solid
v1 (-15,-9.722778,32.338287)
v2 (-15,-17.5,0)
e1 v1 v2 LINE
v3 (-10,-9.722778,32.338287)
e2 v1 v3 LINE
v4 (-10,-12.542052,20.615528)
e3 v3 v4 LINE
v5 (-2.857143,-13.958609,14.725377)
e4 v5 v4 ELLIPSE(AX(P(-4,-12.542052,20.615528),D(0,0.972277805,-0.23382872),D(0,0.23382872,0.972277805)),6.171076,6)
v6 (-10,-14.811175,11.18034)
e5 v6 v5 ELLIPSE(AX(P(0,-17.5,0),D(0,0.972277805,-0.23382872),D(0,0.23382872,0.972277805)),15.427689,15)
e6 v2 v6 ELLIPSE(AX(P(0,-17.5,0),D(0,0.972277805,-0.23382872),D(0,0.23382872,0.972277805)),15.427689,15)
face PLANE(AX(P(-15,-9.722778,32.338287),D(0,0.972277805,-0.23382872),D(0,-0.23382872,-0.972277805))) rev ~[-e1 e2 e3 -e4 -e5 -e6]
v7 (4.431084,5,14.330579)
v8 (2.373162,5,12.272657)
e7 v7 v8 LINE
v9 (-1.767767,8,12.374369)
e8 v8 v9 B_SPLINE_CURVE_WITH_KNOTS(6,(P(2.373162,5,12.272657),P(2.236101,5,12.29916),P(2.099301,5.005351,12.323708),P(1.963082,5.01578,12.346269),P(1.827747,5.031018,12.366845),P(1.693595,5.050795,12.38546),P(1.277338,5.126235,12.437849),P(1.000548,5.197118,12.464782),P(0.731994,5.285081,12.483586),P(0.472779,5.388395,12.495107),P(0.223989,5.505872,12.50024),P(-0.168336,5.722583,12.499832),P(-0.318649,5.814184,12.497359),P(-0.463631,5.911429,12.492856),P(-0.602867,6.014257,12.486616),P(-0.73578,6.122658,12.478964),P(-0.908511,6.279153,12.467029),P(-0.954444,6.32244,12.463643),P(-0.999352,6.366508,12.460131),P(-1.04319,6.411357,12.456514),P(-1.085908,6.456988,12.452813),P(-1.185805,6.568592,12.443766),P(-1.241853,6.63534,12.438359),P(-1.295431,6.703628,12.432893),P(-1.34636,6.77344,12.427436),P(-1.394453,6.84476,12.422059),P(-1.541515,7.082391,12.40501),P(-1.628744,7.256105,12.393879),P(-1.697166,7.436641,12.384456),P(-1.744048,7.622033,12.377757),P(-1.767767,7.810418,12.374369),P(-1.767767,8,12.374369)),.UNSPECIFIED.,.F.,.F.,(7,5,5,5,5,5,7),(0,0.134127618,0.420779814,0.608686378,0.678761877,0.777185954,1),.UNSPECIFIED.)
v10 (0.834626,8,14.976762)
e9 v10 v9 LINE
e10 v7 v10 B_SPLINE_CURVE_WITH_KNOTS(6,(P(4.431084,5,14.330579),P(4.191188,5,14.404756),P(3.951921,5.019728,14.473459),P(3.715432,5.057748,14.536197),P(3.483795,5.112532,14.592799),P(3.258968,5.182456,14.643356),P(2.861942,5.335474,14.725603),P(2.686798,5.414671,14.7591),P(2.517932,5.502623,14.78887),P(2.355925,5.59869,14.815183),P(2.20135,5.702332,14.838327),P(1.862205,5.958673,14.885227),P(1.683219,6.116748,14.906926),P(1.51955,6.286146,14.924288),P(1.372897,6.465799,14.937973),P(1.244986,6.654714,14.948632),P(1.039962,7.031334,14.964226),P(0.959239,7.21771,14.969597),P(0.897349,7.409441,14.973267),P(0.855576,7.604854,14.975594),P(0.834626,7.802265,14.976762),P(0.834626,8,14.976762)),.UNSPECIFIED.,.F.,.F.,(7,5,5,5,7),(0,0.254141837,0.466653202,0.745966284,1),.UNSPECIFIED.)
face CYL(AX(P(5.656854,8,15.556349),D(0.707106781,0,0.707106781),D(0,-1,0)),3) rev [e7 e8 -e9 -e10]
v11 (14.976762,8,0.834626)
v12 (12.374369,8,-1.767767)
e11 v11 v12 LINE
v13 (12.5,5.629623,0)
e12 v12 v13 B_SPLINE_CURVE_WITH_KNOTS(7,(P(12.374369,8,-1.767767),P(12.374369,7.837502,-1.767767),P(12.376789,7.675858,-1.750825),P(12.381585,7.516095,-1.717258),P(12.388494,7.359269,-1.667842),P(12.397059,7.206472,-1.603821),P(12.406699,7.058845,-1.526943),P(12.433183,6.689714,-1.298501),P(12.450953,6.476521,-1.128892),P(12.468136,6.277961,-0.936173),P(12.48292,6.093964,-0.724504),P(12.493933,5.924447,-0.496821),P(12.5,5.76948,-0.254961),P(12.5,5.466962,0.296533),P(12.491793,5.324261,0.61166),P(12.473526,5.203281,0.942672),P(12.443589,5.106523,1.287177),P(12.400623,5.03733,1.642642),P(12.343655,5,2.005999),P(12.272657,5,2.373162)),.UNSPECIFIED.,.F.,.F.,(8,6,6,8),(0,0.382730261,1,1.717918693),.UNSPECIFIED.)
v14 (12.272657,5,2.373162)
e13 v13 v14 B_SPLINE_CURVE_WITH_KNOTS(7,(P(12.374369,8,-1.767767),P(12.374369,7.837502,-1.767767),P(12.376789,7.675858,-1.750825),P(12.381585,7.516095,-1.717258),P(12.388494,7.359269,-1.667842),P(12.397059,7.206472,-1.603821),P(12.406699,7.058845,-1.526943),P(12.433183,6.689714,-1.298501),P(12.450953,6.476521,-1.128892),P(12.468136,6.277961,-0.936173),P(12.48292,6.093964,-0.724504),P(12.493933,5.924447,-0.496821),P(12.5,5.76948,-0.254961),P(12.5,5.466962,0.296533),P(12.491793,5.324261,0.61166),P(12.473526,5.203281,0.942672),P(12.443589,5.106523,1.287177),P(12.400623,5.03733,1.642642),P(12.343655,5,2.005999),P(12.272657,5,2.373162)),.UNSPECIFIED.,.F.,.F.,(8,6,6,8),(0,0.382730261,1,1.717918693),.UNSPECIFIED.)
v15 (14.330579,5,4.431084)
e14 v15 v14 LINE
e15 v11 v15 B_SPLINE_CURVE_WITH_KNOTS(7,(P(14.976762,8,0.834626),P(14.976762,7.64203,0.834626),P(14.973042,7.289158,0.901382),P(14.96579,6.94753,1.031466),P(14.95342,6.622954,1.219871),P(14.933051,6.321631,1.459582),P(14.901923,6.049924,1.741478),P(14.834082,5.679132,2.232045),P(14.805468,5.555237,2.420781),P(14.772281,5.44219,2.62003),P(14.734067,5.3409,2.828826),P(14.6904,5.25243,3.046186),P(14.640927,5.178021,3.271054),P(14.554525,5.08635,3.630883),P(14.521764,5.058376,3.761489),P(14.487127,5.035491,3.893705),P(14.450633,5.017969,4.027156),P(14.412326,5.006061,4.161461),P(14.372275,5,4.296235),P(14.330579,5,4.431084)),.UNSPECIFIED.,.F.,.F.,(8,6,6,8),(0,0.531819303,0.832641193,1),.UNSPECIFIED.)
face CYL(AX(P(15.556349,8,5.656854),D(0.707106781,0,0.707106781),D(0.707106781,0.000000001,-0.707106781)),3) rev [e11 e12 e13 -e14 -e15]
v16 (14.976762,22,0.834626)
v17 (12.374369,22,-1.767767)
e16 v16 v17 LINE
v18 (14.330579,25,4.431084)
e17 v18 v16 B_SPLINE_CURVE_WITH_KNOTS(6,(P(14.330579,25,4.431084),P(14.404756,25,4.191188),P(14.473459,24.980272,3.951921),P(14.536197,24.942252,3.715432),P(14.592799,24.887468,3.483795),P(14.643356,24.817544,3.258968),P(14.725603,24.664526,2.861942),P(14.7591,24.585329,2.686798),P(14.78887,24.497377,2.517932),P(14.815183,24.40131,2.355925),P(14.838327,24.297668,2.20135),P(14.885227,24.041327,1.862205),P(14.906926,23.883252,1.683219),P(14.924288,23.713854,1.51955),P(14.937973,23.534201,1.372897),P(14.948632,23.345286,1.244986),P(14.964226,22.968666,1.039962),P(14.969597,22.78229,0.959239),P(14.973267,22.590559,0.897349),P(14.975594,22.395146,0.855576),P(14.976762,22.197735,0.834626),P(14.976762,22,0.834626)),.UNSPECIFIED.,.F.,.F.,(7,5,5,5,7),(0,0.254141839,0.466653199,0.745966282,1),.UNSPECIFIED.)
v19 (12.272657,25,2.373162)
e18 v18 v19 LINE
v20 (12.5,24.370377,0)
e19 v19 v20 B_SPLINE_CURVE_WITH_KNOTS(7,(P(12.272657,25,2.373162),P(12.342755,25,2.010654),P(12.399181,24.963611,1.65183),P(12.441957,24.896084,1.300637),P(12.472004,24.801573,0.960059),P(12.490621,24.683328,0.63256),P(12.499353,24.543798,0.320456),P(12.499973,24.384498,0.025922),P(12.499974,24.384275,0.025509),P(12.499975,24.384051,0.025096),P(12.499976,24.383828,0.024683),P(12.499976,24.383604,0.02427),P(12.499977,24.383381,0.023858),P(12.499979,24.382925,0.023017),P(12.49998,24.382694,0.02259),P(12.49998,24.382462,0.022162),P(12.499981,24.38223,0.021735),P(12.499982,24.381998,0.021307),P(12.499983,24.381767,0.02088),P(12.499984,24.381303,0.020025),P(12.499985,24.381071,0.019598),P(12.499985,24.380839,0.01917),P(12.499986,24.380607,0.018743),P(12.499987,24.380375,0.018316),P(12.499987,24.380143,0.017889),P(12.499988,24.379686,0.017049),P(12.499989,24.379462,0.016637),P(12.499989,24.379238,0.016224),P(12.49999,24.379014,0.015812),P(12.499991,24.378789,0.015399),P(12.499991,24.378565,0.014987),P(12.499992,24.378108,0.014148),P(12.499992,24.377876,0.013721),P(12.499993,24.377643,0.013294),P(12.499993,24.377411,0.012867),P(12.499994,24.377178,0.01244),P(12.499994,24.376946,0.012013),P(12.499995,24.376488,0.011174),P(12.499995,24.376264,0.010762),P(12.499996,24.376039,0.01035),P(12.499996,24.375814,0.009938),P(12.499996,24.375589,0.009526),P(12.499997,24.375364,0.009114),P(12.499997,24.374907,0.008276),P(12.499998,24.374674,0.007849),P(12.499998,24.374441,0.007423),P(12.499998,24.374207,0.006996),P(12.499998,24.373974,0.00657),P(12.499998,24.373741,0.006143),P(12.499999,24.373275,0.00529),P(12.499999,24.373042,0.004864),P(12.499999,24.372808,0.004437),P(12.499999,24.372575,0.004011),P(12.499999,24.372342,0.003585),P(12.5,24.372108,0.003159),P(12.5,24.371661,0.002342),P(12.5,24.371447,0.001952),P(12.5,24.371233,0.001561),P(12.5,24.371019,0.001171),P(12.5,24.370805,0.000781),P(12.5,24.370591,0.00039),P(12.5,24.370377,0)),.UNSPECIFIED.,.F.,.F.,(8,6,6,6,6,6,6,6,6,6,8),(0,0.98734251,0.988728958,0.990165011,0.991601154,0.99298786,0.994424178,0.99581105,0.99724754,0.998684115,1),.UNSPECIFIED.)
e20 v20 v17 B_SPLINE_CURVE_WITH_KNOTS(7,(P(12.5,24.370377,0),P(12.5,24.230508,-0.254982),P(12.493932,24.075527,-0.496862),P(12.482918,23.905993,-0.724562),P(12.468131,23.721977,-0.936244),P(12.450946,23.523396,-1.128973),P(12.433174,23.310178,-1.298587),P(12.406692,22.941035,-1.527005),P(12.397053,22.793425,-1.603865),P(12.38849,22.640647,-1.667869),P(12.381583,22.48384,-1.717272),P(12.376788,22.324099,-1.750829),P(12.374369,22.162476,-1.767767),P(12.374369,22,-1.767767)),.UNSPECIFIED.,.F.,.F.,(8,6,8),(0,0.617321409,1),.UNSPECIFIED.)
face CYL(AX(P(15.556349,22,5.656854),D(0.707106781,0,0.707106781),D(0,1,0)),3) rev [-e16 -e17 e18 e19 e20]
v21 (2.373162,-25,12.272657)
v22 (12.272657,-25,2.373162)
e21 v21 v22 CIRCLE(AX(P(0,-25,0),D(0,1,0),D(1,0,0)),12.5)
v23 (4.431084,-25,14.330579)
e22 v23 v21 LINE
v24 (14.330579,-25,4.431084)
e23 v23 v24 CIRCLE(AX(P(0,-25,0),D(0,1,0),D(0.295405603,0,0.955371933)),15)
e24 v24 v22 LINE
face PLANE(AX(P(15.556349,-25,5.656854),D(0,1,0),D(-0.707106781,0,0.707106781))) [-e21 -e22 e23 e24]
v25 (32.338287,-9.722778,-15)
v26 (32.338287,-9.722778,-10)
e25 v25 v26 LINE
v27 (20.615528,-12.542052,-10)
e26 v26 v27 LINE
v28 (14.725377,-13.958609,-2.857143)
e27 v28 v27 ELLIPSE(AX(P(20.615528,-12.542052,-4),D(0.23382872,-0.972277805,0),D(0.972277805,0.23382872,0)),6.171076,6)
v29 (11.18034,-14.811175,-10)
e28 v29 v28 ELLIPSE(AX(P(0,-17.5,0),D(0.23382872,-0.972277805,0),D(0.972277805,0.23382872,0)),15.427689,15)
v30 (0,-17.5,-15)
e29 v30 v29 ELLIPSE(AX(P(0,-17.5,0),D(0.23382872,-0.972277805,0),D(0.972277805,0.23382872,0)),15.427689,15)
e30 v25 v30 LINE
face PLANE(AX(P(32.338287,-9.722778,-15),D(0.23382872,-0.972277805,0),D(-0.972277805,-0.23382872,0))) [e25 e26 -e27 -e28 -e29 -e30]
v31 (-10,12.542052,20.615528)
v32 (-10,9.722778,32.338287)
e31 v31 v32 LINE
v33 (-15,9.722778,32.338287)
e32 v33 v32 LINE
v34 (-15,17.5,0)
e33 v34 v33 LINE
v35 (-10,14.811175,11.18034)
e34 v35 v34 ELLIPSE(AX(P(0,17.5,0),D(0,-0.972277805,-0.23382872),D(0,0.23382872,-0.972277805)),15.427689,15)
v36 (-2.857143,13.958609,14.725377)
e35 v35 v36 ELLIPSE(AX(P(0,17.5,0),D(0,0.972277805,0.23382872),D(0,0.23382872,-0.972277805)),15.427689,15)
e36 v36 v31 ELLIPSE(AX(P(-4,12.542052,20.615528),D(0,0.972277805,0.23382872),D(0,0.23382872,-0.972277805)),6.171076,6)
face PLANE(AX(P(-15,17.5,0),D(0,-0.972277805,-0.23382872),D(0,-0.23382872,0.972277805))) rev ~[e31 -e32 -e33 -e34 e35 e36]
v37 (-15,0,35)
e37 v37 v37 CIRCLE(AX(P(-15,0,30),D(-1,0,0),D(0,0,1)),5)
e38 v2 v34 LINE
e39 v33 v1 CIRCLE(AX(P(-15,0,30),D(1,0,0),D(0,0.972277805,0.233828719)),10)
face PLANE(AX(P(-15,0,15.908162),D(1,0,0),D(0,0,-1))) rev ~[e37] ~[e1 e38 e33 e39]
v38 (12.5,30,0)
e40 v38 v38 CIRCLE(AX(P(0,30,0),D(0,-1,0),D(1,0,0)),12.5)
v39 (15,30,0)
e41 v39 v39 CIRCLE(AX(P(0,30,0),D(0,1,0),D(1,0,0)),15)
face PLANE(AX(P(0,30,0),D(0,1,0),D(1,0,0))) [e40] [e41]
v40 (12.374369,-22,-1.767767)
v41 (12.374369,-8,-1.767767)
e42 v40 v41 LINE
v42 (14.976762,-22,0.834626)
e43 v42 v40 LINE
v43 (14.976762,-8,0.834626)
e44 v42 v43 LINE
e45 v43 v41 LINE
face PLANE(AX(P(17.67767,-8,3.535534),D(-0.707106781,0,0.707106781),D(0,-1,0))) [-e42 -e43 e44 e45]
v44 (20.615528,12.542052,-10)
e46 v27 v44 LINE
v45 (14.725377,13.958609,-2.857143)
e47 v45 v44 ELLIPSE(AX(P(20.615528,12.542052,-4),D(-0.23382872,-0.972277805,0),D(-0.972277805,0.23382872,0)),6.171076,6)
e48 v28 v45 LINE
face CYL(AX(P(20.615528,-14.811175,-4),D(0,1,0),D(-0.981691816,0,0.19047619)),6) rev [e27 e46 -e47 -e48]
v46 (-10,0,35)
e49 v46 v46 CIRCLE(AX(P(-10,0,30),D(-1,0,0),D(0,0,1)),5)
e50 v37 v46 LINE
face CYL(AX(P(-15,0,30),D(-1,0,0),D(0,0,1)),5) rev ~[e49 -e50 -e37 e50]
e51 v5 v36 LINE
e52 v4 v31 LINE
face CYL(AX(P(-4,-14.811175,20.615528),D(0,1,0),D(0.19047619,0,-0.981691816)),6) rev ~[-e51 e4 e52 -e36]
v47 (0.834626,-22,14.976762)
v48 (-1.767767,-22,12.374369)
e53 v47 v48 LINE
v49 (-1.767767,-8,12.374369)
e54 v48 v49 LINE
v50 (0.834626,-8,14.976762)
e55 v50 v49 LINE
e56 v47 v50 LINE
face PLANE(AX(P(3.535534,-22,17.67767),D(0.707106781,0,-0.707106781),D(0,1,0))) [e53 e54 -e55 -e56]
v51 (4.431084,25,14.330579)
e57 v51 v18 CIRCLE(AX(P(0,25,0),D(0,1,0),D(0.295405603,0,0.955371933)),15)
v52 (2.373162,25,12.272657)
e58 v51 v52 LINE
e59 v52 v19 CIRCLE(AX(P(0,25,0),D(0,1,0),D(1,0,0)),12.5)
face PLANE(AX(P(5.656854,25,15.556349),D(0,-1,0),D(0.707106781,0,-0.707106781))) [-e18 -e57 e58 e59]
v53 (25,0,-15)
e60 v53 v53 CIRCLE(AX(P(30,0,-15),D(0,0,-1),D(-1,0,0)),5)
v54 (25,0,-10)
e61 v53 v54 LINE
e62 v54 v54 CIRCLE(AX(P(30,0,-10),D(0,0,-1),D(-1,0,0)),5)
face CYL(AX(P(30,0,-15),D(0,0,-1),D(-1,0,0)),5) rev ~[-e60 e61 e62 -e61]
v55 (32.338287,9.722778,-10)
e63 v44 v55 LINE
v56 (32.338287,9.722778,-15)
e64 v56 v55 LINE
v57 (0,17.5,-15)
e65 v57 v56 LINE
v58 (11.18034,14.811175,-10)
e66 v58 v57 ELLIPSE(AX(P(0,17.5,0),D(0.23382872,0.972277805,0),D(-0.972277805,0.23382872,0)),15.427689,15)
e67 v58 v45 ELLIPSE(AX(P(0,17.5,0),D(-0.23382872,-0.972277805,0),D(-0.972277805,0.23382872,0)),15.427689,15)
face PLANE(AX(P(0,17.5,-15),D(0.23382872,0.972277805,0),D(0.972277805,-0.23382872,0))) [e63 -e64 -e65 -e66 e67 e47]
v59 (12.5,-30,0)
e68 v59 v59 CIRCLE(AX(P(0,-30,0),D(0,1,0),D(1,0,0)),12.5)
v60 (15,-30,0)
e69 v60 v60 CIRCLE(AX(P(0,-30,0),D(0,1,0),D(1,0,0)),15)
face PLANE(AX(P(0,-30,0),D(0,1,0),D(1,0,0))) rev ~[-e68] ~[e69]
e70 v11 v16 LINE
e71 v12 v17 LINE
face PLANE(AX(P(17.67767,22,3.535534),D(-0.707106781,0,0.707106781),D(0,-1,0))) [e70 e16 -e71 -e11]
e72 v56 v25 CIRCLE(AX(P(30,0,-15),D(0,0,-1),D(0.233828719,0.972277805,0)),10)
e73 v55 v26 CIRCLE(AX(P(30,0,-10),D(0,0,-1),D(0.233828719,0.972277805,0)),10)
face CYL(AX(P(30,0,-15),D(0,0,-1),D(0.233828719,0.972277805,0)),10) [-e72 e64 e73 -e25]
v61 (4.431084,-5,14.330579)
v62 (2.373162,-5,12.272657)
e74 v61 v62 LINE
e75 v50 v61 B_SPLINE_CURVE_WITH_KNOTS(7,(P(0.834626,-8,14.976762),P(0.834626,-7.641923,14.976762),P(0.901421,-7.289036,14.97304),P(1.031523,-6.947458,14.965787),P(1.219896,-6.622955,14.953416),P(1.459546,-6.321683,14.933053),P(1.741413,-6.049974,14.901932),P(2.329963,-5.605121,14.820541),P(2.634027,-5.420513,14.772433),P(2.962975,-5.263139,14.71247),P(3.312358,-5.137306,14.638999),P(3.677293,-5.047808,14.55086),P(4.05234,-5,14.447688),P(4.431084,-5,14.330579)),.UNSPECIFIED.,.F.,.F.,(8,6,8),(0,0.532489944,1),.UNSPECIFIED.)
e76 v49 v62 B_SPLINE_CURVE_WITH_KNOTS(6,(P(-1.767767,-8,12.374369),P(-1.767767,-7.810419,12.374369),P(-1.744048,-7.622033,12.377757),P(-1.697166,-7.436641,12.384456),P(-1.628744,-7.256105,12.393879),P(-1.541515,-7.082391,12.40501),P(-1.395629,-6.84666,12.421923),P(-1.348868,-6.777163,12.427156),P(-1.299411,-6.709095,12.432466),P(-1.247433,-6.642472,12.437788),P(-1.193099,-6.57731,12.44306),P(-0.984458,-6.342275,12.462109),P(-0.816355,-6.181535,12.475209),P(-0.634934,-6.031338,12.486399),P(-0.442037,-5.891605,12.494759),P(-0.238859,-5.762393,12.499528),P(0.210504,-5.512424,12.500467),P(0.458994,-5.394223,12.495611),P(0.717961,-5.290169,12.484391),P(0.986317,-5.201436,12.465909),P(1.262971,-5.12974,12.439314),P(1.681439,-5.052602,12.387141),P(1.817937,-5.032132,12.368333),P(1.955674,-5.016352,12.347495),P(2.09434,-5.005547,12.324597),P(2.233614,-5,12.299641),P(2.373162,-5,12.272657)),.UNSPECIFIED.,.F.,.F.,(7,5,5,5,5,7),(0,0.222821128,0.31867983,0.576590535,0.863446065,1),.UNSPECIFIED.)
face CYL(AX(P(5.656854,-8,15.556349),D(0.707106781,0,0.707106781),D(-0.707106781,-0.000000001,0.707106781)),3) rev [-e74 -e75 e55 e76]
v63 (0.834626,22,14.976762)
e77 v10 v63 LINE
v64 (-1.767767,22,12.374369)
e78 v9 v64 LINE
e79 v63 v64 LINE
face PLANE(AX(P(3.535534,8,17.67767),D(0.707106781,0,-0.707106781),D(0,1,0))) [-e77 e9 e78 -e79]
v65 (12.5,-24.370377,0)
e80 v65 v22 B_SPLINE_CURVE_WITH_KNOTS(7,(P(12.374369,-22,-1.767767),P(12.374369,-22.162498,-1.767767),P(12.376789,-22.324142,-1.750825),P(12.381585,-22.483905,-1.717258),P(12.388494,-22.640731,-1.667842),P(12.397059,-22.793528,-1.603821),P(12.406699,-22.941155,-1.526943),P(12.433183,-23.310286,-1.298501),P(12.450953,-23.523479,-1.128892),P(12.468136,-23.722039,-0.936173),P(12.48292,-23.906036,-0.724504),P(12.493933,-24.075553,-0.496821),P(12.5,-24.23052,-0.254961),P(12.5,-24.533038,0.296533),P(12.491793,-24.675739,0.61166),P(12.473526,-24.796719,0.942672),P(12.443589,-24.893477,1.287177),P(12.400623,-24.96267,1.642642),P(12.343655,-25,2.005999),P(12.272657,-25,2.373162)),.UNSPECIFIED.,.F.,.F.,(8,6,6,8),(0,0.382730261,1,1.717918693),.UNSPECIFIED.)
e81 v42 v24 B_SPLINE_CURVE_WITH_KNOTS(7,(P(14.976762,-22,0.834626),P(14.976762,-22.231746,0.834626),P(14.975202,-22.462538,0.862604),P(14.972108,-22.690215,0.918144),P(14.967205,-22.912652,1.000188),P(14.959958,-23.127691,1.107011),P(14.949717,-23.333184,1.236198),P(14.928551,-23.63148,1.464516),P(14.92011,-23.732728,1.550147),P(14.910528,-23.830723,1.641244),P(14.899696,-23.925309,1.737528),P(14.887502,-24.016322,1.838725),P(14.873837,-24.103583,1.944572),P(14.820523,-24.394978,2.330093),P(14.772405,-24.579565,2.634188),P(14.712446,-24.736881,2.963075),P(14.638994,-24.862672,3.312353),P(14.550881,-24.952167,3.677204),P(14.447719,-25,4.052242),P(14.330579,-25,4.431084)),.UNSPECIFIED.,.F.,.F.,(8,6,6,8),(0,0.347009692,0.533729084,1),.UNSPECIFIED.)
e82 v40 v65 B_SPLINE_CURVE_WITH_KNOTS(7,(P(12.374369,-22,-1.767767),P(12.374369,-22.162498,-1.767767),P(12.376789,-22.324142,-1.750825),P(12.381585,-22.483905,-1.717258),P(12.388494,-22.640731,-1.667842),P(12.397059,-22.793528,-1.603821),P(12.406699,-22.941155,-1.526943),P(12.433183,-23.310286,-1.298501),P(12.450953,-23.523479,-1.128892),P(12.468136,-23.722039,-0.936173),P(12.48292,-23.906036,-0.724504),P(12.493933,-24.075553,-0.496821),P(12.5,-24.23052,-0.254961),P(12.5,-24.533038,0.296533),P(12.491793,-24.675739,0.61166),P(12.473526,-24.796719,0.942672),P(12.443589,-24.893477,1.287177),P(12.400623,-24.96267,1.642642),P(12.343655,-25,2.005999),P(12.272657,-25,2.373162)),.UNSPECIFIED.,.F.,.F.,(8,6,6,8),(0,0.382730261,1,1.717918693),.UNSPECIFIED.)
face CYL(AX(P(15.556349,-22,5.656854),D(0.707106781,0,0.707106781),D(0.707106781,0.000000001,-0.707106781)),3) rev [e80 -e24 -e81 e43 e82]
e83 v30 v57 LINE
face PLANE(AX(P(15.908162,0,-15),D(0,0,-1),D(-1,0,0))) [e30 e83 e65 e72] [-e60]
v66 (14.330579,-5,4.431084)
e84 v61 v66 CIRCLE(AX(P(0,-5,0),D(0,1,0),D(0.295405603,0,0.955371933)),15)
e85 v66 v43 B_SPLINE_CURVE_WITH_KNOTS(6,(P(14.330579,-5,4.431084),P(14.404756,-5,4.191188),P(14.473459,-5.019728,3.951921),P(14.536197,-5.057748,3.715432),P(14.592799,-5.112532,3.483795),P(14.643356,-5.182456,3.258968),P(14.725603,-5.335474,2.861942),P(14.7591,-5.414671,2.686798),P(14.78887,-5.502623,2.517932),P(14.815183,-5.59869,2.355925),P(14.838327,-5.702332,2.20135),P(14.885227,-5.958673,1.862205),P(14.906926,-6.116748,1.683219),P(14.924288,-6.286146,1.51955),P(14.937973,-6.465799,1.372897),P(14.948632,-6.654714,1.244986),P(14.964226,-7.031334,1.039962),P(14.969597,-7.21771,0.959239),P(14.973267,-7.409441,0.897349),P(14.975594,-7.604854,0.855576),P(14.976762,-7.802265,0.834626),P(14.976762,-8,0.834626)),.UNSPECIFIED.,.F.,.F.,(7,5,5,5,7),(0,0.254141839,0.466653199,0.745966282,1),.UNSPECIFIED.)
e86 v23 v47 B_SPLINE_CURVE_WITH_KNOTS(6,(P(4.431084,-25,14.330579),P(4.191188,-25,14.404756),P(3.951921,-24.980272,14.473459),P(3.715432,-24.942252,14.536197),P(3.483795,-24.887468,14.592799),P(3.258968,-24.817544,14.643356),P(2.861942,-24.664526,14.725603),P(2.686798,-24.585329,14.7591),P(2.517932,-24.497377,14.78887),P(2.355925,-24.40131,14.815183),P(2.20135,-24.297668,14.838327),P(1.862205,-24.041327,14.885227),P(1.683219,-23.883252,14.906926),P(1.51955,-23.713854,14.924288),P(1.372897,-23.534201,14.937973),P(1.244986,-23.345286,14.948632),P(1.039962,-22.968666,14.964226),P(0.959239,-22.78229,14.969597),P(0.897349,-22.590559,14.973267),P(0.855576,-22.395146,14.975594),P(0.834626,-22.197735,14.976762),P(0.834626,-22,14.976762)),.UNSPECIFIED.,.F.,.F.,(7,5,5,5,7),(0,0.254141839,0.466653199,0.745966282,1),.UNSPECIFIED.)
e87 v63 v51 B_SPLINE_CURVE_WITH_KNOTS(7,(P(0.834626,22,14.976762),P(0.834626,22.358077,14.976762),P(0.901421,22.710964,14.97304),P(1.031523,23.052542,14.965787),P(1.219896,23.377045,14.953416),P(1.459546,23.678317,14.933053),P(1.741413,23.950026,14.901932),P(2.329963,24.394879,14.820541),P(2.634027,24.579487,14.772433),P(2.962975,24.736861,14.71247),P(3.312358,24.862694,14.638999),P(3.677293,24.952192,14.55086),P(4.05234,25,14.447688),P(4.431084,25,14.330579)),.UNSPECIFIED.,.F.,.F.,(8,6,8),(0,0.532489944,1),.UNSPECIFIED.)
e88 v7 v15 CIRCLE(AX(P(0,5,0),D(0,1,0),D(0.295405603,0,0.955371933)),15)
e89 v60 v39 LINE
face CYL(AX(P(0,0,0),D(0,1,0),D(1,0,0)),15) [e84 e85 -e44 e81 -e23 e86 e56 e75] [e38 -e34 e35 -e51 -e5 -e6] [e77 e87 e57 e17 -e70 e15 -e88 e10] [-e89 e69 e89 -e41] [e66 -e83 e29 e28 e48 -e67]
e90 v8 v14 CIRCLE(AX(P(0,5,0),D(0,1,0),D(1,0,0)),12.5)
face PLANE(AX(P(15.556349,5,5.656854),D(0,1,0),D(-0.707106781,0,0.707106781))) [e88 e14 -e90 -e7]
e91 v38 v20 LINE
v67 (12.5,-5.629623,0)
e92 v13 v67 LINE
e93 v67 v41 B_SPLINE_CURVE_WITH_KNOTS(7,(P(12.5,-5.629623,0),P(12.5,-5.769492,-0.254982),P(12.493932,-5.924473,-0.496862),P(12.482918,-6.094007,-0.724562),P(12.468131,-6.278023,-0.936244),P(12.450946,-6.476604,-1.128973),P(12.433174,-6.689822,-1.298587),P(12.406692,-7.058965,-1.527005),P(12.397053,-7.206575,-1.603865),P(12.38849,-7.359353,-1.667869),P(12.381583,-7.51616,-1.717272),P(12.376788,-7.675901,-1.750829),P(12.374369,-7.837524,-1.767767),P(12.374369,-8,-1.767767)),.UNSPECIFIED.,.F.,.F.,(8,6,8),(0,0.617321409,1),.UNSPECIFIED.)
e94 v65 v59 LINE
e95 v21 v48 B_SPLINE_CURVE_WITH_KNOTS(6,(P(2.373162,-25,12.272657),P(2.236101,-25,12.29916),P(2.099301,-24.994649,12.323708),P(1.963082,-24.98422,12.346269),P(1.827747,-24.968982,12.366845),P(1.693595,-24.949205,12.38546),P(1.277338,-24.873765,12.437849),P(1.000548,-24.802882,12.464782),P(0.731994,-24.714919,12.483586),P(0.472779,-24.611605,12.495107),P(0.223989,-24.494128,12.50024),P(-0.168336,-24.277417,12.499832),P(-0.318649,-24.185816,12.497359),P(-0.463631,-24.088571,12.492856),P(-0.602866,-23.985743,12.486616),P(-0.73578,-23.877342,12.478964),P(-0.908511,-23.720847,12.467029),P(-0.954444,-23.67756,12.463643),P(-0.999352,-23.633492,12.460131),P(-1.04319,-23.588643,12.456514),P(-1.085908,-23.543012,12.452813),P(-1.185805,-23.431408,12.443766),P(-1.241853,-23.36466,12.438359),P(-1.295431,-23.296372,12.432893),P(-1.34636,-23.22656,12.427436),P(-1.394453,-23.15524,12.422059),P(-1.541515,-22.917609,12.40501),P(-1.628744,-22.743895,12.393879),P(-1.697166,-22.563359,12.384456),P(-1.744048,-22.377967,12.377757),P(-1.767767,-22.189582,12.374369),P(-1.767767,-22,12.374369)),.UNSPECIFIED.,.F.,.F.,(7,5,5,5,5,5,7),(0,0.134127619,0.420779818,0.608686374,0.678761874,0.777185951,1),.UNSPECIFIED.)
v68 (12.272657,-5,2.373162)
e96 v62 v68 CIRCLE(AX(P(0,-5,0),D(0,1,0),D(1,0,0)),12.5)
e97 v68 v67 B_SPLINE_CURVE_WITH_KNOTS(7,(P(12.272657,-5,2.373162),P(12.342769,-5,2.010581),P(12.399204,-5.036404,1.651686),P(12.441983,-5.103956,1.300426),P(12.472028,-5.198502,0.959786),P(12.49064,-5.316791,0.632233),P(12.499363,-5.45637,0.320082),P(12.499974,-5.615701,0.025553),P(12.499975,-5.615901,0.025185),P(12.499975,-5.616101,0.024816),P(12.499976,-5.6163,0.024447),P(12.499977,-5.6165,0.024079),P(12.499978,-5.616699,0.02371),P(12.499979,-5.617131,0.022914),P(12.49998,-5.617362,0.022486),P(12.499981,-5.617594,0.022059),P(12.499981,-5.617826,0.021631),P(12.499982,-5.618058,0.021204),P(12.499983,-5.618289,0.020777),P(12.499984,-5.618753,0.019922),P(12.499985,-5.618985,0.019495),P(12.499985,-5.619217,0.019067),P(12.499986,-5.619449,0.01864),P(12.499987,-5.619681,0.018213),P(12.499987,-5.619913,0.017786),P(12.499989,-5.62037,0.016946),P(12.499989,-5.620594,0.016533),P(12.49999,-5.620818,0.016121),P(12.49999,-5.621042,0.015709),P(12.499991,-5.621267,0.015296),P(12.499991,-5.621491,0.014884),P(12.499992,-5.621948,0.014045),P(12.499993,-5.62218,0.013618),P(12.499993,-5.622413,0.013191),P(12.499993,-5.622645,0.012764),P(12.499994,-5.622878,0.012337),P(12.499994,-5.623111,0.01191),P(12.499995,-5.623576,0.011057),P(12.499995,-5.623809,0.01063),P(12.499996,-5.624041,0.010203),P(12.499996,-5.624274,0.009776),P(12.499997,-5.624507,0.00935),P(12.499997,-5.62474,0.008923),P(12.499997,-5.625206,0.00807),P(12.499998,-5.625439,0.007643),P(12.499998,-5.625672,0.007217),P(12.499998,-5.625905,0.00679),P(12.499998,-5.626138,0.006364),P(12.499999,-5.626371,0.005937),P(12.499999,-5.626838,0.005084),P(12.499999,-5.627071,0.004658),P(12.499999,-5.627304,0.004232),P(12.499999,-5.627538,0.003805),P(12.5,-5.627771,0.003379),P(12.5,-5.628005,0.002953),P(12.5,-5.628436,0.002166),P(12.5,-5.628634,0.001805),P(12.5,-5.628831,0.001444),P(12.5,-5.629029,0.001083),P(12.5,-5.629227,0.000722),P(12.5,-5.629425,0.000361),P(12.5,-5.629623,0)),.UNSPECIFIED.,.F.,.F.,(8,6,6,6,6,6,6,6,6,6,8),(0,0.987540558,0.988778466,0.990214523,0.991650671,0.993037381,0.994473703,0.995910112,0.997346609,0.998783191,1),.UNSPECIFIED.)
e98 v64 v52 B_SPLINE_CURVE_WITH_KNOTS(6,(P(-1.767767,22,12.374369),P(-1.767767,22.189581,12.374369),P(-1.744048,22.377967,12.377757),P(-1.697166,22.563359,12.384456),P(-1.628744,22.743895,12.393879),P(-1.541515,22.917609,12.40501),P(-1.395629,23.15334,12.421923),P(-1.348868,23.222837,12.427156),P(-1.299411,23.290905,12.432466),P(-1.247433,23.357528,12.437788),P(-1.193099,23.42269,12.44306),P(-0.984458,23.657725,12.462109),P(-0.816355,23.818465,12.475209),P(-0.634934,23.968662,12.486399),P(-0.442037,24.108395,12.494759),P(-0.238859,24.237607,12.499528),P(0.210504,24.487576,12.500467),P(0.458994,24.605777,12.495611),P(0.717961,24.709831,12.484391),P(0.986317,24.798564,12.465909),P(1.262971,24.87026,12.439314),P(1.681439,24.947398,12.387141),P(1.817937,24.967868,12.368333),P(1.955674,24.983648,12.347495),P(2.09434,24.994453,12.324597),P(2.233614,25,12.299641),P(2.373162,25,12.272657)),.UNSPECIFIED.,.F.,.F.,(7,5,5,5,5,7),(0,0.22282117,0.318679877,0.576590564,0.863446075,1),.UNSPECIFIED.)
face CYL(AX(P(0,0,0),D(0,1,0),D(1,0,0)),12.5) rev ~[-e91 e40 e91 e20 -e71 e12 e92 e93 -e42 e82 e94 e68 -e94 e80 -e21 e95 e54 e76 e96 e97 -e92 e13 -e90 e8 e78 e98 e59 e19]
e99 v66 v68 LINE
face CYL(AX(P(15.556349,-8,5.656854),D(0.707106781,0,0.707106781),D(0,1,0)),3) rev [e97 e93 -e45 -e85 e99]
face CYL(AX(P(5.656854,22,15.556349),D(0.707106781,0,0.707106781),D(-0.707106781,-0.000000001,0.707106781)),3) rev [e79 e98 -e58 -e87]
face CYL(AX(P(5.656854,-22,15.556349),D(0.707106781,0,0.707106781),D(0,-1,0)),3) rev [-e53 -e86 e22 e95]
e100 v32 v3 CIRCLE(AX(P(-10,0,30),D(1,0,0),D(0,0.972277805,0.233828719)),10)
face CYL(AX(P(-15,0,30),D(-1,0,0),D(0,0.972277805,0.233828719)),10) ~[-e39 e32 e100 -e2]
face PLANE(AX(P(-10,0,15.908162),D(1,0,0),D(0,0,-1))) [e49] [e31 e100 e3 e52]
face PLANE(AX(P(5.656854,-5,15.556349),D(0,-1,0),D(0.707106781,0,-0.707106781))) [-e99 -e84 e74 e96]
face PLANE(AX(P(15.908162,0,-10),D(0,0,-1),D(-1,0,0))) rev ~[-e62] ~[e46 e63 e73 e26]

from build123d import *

# Parameters (mm, degrees)
SKETCH_1_R               = 15
EXTRUDE_3_DEPTH          = 30
SKETCH_4_R               = 5
EXTRUDE_4_DEPTH          = 5
SKETCH_5_R               = 5
EXTRUDE_5_DEPTH          = 5
FILLET_1_R               = 6
SKETCH_1_3_R             = 12.5
CUT_EXTRUDE_4_DEPTH      = 31
CUT_EXTRUDE_4_DEPTH_BACK = 31
CUT_EXTRUDE_3_REACH      = 38.213


with BuildPart() as part:
    # 草圖1 → 填料-伸長3 (new body, symmetric)
    with BuildSketch(Plane(origin=(0, 0, 0), x_dir=(1, 0, 0), z_dir=(0, 1, 0))):
        Circle(SKETCH_1_R)
    extrude(amount=EXTRUDE_3_DEPTH, both=True)

    # 草圖4 → 填料-伸長4 (add)
    with BuildSketch(Plane.ZY.offset(15)):
        with BuildLine():
            Line((0, -17.5), (0, 17.5))
            Line((0, 17.5), (32.338287195, 9.722778049))
            ThreePointArc((32.338287195, 9.722778049), (40, 0), (32.338287195, -9.722778049))
            Line((32.338287195, -9.722778049), (0, -17.5))
        make_face()
        with Locations((30, 0)):
            Circle(SKETCH_4_R, mode=Mode.SUBTRACT)
    extrude(amount=-EXTRUDE_4_DEPTH)

    # 草圖5 → 填料-伸長5 (add)
    with BuildSketch(Plane(origin=(0, 0, -15), x_dir=(-1, 0, 0), z_dir=(0, 0, -1))):
        with BuildLine():
            Line((0, -17.5), (0, 17.5))
            Line((0, 17.5), (-32.338287195, 9.722778049))
            ThreePointArc((-32.338287195, 9.722778049), (-40, 0), (-32.338287195, -9.722778049))
            Line((-32.338287195, -9.722778049), (0, -17.5))
        make_face()
        with Locations((-30, 0)):
            Circle(SKETCH_5_R, mode=Mode.SUBTRACT)
    extrude(amount=-EXTRUDE_5_DEPTH)

    # 圓角1
    fillet_1_edges = [part.edges().sort_by_distance(p)[0] for p in [
        (11.180339887, 0, -10),
        (-10, 0, 11.180339887),
    ]]
    fillet(fillet_1_edges, radius=FILLET_1_R)

    # 草圖1<3> → 除料-伸長4 (cut, two sides)
    with BuildSketch(Plane(origin=(0, 0, 0), x_dir=(1, 0, 0), z_dir=(0, 1, 0))) as cut_extrude_4_sk:
        Circle(SKETCH_1_3_R)
    extrude(amount=CUT_EXTRUDE_4_DEPTH, mode=Mode.SUBTRACT)
    extrude(cut_extrude_4_sk.sketch, amount=-CUT_EXTRUDE_4_DEPTH_BACK, mode=Mode.SUBTRACT)

    # 草圖7 → 除料-伸長3 (cut, up to next)
    with BuildSketch(Plane(origin=(10.606601718, 0, 10.606601718), x_dir=(0.707106781, 0, -0.707106781), z_dir=(0.707106781, 0, 0.707106781)), mode=Mode.PRIVATE) as cut_extrude_3_sk1:
        with BuildLine():
            Line((-7, 25), (7, 25))
            ThreePointArc((7, 25), (9.121320344, 24.121320344), (10, 22))
            Line((10, 22), (10, 8))
            ThreePointArc((10, 8), (9.121320344, 5.878679656), (7, 5))
            Line((7, 5), (-7, 5))
            ThreePointArc((-7, 5), (-9.121320344, 5.878679656), (-10, 8))
            Line((-10, 8), (-10, 22))
            ThreePointArc((-10, 22), (-9.121320344, 24.121320344), (-7, 25))
        make_face()
    cut_extrude_3_tool1 = extrude(cut_extrude_3_sk1.sketch, amount=-CUT_EXTRUDE_3_REACH, mode=Mode.PRIVATE) & part.part
    add(cut_extrude_3_tool1.solids().sort_by_distance((10.606602, 15, 10.606602))[0], mode=Mode.SUBTRACT)
    # 草圖7 → 除料-伸長3 (cut, up to next)
    with BuildSketch(Plane(origin=(10.606601718, 0, 10.606601718), x_dir=(0.707106781, 0, -0.707106781), z_dir=(0.707106781, 0, 0.707106781)), mode=Mode.PRIVATE) as cut_extrude_3_sk2:
        with BuildLine():
            Line((-7, -5), (7, -5))
            ThreePointArc((7, -5), (9.121320344, -5.878679656), (10, -8))
            Line((10, -8), (10, -22))
            ThreePointArc((10, -22), (9.121320344, -24.121320344), (7, -25))
            Line((7, -25), (-7, -25))
            ThreePointArc((-7, -25), (-9.121320344, -24.121320344), (-10, -22))
            Line((-10, -22), (-10, -8))
            ThreePointArc((-10, -8), (-9.121320344, -5.878679656), (-7, -5))
        make_face()
    cut_extrude_3_tool2 = extrude(cut_extrude_3_sk2.sketch, amount=-CUT_EXTRUDE_3_REACH, mode=Mode.PRIVATE) & part.part
    add(cut_extrude_3_tool2.solids().sort_by_distance((10.606602, -15, 10.606602))[0], mode=Mode.SUBTRACT)


solid = part.part
